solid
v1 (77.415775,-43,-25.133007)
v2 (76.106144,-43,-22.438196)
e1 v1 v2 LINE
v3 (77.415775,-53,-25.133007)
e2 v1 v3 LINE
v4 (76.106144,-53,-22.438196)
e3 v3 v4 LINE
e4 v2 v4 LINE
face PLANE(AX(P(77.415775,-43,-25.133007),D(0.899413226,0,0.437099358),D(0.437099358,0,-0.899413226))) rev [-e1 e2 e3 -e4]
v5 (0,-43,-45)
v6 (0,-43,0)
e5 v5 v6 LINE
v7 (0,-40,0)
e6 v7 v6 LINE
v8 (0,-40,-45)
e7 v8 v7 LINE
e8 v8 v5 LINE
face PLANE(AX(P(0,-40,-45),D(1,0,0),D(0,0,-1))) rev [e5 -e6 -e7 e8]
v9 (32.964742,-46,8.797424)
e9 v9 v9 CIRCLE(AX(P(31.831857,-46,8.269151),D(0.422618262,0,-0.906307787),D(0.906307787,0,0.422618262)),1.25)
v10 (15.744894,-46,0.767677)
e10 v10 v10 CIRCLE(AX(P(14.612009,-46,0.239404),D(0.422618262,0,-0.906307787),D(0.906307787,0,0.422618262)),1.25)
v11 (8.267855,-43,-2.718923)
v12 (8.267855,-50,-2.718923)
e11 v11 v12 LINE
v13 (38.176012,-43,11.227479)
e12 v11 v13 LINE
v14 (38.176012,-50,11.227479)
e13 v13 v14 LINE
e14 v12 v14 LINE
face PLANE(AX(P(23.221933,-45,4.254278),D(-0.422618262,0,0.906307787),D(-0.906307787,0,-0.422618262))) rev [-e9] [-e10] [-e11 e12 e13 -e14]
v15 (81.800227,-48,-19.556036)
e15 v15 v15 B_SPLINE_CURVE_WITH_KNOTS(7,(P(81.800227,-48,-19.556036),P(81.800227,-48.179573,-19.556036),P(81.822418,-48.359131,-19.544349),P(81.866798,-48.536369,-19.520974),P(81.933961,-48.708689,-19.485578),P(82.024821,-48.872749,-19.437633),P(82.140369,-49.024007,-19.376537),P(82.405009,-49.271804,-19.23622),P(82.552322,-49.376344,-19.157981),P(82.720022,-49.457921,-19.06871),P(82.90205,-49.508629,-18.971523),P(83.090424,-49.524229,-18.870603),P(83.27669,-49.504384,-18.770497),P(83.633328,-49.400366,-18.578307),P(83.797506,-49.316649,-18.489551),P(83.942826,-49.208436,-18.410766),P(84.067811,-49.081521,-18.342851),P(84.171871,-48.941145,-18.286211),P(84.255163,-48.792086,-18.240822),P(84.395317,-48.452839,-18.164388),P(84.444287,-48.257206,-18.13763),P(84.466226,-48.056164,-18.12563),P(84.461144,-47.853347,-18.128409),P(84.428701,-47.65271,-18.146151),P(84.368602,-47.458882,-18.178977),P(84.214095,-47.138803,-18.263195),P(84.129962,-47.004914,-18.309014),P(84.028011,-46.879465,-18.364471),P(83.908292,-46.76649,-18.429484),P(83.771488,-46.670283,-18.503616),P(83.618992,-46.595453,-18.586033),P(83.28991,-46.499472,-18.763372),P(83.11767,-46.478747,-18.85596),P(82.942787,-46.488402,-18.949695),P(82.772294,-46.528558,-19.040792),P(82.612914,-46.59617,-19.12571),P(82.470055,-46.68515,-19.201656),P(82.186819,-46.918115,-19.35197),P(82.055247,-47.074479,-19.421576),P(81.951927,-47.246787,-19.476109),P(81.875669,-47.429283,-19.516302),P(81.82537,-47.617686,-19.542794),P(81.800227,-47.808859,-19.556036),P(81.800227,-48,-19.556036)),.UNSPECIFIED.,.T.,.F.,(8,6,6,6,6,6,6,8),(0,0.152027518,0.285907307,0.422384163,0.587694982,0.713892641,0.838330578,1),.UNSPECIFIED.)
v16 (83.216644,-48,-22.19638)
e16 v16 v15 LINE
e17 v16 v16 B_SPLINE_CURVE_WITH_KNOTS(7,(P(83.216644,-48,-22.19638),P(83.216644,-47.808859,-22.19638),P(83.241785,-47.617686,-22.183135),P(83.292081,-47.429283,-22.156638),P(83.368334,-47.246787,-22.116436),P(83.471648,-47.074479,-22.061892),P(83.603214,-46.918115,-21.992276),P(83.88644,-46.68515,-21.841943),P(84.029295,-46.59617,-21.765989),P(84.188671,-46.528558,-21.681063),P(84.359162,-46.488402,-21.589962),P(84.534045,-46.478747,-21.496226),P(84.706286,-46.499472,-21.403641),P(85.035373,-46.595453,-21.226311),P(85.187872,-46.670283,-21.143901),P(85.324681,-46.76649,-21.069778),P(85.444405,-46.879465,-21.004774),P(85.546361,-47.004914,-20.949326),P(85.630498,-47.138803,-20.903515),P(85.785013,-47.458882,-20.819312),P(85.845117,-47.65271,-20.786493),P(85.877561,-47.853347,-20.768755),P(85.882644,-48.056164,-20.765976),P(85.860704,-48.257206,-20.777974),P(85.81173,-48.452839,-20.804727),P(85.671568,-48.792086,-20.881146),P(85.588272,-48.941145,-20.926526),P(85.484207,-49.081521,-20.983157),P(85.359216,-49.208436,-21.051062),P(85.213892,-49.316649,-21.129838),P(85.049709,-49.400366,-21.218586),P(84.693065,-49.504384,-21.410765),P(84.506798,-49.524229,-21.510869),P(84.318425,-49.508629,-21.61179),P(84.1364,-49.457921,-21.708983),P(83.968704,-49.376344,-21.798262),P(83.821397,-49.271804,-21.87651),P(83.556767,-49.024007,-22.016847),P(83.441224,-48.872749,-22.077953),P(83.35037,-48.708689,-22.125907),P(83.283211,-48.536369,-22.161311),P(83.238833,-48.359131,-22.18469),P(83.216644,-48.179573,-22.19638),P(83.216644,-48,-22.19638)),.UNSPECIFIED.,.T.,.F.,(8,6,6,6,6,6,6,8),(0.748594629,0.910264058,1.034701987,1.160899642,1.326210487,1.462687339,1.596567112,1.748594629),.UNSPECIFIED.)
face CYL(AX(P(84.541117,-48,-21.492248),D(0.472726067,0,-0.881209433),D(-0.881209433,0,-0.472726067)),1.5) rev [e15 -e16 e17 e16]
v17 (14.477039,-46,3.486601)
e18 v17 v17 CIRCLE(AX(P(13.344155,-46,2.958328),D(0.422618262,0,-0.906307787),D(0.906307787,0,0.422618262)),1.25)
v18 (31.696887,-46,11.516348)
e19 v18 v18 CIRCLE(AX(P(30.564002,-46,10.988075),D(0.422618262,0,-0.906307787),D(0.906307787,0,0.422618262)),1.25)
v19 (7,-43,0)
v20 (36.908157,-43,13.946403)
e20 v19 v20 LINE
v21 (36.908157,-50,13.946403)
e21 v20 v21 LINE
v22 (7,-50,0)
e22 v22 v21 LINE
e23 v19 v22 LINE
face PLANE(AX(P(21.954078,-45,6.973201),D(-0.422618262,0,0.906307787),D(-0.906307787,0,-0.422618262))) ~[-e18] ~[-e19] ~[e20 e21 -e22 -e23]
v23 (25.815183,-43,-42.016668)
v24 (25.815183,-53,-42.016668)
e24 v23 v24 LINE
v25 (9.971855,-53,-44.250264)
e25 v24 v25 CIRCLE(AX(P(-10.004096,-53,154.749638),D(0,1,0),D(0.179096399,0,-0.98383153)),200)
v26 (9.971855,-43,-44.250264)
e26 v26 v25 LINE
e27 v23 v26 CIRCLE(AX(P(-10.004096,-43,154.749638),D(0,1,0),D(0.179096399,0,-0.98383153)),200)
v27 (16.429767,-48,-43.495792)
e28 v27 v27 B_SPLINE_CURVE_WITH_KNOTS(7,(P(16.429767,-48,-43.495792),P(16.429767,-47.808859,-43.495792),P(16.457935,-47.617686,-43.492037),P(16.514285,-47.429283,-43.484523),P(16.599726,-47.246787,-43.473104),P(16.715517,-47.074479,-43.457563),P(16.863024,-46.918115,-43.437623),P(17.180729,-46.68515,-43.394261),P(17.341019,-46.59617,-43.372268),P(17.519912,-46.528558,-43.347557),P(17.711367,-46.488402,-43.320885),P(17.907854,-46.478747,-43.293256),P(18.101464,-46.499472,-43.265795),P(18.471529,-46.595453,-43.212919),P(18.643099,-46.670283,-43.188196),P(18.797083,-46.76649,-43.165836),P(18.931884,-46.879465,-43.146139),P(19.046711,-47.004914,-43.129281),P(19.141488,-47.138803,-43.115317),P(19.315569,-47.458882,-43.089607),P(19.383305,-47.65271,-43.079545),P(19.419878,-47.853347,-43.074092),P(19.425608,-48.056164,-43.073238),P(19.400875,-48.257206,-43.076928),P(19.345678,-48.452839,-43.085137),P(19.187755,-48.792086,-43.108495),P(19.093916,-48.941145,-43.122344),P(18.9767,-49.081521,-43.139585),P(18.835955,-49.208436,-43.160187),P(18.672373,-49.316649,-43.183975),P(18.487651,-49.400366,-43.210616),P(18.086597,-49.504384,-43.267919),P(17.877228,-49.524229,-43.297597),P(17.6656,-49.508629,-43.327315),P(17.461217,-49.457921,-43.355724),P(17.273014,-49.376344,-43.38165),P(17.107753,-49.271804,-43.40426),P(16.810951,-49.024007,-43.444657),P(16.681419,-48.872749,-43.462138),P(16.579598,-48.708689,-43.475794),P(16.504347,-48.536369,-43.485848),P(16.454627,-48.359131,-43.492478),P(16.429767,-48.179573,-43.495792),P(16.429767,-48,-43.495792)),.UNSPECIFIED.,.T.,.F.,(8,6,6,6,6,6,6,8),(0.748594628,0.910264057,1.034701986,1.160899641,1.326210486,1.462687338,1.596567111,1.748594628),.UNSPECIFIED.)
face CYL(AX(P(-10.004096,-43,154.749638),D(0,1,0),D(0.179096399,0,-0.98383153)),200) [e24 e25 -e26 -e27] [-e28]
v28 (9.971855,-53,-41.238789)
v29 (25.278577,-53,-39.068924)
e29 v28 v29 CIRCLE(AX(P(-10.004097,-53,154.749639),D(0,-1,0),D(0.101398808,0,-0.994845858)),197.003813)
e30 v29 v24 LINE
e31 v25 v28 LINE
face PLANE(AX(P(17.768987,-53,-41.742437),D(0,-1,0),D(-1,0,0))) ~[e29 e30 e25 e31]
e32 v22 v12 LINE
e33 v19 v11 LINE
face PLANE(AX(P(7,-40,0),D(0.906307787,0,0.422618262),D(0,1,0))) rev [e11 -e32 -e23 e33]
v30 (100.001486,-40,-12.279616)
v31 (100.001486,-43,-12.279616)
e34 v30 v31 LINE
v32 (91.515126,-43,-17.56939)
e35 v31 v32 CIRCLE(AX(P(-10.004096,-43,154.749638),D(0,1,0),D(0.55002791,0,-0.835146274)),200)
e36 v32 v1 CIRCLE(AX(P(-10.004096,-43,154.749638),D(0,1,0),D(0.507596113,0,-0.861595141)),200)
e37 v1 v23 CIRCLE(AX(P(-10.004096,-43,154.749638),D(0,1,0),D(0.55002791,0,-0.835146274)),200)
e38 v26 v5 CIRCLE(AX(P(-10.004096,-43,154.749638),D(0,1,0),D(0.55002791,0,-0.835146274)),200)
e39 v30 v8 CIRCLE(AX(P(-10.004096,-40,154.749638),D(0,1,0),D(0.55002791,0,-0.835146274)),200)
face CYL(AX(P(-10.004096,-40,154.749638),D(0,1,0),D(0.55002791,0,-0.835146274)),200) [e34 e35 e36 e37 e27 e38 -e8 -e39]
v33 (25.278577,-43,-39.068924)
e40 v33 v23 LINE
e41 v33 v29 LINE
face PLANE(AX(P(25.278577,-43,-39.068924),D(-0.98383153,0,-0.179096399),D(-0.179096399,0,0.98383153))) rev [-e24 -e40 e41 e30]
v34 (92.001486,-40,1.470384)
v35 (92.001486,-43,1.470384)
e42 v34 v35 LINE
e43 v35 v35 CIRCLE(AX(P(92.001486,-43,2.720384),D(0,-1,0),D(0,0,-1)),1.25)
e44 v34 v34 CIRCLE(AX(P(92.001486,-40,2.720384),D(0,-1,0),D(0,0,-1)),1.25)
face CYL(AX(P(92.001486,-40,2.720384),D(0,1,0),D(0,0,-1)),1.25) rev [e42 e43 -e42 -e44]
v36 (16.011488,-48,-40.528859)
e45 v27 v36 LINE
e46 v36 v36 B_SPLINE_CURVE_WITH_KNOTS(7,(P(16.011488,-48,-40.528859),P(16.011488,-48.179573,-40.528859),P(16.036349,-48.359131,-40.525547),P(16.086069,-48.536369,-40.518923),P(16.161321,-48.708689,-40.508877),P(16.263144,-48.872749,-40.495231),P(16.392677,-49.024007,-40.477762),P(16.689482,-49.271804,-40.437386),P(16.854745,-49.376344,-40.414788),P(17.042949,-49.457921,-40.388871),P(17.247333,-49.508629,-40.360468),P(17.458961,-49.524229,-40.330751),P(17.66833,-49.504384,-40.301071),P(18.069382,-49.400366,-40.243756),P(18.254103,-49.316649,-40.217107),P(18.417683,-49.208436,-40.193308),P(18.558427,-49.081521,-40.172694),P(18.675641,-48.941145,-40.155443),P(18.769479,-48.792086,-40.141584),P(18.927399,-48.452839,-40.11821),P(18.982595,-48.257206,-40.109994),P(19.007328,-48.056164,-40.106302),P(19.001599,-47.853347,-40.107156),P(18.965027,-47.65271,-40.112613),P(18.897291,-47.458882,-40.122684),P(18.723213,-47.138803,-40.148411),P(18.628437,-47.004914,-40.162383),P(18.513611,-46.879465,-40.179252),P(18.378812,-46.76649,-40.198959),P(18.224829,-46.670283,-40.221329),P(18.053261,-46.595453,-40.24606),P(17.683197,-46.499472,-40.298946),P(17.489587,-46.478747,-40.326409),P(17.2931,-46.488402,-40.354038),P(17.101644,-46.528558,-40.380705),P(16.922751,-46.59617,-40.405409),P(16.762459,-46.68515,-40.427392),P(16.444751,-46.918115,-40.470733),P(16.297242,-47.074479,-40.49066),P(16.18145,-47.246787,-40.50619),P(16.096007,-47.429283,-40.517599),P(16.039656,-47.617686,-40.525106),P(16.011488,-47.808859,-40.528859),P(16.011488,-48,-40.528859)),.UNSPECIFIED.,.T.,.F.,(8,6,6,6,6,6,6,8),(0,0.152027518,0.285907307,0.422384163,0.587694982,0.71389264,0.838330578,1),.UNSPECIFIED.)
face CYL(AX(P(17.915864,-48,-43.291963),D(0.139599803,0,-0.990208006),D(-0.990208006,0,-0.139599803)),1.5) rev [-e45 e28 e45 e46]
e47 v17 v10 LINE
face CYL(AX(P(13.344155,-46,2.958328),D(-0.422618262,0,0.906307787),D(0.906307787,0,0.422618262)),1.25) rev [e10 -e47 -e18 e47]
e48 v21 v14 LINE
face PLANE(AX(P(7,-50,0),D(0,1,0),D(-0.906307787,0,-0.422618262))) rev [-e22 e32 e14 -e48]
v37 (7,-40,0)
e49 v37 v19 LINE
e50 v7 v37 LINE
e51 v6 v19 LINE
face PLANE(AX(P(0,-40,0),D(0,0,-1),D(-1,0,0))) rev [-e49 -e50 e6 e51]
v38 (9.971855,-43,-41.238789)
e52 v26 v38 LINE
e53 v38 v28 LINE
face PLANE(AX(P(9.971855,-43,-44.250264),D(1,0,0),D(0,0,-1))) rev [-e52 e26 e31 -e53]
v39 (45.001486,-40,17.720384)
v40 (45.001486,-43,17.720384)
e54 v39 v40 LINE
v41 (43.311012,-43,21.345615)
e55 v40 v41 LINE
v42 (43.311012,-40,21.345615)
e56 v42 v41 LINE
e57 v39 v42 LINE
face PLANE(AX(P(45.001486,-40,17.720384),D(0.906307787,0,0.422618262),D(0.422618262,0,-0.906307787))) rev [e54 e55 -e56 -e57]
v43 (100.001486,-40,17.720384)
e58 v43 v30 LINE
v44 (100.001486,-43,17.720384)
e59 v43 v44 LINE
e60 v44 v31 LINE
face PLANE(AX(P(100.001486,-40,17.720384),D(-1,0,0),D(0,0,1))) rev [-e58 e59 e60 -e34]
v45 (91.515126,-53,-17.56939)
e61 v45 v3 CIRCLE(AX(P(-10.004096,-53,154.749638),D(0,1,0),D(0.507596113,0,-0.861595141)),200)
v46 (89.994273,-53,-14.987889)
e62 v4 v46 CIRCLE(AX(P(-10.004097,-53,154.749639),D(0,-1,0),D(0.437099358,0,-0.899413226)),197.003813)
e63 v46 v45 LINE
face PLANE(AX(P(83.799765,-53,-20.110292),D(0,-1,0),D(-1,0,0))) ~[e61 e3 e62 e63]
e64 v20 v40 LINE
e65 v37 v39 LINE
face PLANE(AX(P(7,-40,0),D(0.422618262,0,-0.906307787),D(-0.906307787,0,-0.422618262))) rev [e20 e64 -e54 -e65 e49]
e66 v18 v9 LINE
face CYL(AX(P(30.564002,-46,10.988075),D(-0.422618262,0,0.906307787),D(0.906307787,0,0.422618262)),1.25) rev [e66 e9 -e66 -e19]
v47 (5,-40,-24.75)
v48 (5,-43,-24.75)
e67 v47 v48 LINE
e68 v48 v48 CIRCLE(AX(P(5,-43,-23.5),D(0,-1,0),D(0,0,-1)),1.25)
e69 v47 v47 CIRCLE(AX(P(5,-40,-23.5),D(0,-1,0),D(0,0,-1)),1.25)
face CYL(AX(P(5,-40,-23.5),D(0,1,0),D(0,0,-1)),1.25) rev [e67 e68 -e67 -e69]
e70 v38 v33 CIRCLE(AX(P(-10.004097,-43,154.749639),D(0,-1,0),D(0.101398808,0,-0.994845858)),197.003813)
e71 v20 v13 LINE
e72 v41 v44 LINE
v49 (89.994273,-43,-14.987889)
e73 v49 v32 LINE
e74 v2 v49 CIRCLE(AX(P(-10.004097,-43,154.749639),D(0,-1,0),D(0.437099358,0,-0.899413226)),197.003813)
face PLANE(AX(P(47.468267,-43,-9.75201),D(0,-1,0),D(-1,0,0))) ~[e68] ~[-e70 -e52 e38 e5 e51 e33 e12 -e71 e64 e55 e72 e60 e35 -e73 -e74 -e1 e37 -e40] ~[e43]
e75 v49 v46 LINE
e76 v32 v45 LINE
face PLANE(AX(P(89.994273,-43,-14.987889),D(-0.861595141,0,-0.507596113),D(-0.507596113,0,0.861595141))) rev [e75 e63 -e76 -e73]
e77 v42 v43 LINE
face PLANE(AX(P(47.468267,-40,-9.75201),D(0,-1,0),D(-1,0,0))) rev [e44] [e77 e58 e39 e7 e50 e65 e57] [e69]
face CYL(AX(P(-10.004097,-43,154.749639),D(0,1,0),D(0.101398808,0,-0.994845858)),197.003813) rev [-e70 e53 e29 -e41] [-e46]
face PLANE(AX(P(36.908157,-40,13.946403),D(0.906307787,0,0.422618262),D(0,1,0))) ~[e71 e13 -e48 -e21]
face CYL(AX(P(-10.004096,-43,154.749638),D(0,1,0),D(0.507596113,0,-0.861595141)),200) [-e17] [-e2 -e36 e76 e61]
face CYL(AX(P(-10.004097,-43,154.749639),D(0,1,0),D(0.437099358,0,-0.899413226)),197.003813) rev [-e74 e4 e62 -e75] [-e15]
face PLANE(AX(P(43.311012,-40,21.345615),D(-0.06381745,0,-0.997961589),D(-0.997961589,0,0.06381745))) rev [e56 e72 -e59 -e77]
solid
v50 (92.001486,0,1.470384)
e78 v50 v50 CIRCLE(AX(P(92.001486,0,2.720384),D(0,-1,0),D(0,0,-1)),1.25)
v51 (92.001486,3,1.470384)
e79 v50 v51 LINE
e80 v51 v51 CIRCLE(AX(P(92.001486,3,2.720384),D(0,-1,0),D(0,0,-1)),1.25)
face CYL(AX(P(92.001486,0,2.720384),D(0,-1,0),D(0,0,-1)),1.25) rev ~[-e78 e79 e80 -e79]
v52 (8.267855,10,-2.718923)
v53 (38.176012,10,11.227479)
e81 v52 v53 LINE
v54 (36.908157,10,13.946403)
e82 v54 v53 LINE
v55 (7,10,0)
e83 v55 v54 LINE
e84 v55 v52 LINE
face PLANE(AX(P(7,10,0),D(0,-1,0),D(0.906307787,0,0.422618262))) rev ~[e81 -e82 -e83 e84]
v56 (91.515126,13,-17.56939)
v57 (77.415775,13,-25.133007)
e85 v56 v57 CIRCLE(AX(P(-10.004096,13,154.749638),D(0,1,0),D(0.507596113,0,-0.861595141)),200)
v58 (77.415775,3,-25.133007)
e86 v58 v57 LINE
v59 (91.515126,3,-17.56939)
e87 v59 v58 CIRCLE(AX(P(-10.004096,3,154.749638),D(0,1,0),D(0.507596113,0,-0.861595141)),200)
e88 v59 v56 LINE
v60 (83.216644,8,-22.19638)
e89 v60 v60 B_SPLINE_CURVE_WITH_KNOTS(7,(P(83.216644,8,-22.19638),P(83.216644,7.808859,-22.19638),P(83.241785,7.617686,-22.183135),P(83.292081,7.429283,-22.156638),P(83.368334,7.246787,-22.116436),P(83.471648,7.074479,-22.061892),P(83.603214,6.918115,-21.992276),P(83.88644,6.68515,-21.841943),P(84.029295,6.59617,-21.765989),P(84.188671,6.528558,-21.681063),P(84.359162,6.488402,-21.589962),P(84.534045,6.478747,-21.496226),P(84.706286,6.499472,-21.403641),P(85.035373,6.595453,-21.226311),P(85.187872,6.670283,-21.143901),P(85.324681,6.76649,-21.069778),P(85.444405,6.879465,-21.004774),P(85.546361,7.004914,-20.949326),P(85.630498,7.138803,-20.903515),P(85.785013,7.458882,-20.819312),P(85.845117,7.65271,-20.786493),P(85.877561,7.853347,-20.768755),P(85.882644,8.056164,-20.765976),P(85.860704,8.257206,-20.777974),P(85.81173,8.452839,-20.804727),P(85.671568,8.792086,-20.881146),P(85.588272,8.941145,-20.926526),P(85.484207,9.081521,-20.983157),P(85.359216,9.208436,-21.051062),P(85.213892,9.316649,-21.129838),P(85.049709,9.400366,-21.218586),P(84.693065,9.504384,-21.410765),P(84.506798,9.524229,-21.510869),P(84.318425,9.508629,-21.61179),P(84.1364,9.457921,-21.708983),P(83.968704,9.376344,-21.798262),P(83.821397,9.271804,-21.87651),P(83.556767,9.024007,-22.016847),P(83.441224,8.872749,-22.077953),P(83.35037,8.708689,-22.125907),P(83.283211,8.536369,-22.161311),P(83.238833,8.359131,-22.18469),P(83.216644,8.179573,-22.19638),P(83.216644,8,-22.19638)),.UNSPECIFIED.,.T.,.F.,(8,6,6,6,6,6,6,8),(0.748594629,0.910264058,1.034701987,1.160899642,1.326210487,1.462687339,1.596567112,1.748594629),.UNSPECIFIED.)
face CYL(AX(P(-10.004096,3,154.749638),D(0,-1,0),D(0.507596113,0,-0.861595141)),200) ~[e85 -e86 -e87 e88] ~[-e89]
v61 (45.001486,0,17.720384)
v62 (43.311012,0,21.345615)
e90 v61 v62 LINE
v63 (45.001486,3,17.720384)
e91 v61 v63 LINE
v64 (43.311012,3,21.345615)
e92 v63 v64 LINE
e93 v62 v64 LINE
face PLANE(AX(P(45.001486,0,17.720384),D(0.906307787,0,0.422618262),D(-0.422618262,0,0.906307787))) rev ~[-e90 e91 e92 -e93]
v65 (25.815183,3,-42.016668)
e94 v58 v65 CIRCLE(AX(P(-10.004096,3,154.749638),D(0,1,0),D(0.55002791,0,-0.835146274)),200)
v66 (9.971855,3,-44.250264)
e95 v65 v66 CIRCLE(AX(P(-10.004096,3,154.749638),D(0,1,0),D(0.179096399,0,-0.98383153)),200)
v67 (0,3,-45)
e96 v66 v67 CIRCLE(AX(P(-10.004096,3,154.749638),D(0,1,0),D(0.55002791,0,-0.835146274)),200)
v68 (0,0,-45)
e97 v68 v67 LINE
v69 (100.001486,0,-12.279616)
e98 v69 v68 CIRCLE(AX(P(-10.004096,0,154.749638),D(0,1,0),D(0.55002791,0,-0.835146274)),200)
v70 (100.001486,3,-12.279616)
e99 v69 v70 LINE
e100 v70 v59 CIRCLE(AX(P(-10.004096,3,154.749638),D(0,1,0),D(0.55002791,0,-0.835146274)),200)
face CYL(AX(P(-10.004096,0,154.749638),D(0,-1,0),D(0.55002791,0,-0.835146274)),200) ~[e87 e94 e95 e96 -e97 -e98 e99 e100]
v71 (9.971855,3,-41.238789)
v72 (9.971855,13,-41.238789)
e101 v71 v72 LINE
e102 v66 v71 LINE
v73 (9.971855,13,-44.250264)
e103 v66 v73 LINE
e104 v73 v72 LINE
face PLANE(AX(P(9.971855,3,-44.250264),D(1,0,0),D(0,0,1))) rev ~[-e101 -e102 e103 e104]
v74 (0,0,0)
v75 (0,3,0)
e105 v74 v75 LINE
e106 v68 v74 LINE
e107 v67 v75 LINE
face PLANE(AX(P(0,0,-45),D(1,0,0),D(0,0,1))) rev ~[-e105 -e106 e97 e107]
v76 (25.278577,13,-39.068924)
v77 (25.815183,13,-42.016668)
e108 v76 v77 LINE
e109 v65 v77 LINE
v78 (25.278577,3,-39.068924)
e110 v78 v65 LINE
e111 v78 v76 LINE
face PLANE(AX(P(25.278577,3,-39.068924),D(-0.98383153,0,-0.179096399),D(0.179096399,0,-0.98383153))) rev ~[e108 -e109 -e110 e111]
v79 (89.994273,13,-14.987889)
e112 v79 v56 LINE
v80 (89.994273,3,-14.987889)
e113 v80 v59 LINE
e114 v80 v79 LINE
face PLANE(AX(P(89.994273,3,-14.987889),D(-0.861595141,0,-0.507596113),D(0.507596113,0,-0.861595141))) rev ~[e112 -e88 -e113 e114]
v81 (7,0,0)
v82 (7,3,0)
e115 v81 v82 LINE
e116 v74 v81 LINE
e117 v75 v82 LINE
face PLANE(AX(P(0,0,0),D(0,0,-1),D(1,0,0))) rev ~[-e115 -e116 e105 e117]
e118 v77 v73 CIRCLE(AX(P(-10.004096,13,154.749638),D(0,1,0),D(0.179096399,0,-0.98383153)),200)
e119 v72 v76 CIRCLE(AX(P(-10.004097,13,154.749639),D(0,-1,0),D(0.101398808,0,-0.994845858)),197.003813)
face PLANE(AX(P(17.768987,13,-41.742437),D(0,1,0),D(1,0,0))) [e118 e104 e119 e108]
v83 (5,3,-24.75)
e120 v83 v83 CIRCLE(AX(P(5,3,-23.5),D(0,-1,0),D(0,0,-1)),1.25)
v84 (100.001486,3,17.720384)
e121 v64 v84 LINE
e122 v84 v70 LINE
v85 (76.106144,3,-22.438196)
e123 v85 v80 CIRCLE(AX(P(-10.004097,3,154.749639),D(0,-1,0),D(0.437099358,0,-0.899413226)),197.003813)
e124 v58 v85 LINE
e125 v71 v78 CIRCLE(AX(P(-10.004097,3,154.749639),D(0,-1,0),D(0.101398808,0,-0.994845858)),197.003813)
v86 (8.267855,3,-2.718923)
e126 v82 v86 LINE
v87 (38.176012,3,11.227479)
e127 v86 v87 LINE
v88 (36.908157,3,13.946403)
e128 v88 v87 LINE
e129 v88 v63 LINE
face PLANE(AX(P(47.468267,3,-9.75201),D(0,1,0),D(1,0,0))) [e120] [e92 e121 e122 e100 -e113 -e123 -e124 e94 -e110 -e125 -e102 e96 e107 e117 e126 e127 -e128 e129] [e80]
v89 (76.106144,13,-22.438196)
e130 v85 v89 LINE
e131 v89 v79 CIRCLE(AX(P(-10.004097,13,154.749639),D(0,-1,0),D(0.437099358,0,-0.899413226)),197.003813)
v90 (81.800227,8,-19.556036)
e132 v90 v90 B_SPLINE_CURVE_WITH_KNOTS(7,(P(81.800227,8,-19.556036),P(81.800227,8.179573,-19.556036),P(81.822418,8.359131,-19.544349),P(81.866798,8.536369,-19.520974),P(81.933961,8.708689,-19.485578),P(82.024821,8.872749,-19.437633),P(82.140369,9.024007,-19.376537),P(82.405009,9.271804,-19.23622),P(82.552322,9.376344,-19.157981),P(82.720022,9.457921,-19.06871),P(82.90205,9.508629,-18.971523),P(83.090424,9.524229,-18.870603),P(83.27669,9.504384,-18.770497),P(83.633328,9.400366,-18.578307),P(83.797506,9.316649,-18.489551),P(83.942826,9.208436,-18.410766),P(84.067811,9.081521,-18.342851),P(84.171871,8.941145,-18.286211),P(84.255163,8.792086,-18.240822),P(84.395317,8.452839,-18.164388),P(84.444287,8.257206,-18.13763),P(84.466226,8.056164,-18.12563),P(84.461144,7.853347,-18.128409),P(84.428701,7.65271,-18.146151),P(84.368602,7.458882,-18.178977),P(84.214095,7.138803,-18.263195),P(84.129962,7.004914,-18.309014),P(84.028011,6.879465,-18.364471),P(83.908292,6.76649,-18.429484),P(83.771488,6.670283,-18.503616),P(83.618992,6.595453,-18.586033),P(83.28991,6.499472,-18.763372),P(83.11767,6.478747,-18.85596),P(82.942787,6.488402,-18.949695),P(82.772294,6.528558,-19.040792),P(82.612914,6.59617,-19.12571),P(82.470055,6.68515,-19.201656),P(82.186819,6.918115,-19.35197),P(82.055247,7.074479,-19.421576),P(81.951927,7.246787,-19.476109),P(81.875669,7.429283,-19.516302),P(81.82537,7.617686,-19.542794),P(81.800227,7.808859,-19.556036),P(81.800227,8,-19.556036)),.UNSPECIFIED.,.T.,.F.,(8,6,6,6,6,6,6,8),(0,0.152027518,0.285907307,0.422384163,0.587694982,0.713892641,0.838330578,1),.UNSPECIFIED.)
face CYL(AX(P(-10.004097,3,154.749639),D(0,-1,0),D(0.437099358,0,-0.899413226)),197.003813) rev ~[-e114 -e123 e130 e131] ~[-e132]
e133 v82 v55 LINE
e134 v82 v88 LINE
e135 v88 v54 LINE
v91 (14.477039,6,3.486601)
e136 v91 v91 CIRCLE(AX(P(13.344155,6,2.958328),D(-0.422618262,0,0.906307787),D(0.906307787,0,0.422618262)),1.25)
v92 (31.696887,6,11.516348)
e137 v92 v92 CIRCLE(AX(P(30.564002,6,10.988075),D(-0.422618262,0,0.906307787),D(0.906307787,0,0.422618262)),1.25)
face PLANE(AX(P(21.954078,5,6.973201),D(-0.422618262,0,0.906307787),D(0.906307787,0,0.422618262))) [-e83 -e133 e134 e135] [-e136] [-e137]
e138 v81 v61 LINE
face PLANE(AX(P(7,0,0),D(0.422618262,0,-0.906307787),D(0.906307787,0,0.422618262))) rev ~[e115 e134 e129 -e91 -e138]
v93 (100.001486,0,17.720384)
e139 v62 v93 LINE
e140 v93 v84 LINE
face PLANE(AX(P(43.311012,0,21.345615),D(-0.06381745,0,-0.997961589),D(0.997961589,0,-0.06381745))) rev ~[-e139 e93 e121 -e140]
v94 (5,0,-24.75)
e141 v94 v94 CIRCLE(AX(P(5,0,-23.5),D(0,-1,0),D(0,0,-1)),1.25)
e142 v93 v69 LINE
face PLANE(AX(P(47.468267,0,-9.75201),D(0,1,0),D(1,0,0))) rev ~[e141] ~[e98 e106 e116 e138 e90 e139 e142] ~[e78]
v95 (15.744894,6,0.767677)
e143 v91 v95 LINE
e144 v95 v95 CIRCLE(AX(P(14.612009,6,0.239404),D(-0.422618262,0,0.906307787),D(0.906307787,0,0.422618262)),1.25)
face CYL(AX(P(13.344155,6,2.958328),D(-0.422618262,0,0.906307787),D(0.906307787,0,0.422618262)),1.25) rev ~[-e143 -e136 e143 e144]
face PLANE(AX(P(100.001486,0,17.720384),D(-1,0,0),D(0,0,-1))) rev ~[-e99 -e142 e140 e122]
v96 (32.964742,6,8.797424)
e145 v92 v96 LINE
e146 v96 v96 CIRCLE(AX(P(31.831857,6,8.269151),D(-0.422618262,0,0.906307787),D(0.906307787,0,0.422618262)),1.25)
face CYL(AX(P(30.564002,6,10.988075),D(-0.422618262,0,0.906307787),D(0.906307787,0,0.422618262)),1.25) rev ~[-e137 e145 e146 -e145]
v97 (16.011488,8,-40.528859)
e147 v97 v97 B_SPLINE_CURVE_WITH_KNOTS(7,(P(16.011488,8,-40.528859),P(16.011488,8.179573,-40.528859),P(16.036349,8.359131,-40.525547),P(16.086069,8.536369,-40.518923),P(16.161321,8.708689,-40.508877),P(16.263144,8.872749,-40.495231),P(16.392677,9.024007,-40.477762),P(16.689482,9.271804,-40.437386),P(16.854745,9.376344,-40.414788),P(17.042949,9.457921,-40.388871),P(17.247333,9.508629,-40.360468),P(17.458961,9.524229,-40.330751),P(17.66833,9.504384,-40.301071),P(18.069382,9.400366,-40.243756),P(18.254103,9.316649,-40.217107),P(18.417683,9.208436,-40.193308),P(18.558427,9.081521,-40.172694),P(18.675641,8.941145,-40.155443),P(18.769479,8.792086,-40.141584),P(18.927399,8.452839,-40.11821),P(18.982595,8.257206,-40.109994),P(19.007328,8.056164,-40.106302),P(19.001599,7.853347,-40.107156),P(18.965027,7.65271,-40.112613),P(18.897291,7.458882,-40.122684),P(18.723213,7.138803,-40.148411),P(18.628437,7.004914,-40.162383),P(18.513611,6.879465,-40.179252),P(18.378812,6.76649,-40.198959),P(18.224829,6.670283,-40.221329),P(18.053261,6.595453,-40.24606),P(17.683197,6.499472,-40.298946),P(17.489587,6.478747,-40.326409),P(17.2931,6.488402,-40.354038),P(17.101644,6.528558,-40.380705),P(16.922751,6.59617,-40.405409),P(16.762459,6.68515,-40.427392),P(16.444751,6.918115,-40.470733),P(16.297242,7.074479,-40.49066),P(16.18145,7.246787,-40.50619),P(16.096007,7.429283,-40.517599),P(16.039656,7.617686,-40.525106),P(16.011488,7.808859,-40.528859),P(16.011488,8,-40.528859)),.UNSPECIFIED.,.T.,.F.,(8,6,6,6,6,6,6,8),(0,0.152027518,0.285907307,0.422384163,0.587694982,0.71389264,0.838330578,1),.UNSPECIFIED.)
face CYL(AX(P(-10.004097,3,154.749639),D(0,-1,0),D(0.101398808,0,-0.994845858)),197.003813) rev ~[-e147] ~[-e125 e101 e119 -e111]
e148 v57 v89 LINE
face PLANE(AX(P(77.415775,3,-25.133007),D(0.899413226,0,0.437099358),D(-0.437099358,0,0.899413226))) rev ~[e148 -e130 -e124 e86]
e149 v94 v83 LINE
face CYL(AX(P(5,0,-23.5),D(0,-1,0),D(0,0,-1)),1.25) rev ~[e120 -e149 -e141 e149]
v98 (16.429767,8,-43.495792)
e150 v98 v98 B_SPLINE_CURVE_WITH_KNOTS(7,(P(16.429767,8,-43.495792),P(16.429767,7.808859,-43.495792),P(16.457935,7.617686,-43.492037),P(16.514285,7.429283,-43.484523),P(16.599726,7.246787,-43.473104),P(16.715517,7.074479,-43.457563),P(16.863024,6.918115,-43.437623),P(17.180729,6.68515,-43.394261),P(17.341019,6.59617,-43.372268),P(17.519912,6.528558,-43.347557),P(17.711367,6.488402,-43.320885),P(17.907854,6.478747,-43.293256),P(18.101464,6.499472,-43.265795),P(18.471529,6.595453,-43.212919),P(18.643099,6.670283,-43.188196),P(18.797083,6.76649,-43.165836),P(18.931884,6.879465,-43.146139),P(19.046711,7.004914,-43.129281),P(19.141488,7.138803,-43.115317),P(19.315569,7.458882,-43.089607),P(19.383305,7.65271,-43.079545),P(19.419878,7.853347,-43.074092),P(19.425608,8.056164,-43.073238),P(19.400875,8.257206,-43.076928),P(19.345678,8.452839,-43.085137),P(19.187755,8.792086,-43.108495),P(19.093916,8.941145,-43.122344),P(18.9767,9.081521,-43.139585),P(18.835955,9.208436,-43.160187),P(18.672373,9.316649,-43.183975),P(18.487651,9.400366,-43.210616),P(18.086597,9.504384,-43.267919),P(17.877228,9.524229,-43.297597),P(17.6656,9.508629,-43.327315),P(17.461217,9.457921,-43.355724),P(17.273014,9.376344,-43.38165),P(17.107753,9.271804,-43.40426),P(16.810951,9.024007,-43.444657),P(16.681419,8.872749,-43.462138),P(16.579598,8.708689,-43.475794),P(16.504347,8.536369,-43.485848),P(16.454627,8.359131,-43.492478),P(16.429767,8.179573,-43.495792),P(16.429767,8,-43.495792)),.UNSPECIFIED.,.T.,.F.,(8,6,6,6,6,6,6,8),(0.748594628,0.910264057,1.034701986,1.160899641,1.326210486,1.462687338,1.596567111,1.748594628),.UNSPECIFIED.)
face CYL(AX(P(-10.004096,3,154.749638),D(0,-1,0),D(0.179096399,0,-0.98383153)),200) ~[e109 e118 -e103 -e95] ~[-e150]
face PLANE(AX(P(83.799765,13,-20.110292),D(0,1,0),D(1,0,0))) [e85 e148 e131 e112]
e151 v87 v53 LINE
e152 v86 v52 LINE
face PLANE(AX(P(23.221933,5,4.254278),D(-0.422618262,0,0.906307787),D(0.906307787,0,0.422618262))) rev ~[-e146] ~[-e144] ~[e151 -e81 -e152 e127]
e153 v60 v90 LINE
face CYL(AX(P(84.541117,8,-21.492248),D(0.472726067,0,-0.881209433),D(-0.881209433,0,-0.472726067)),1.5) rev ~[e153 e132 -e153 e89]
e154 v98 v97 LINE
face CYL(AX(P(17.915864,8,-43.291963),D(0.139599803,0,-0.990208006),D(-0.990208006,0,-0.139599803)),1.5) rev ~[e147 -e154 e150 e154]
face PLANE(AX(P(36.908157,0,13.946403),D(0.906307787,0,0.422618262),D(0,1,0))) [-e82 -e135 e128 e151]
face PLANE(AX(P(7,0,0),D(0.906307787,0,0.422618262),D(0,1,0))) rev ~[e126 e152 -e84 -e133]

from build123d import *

# Parameters (mm, degrees)
BOSS_EXTRUDE1_DEPTH     = 3
SKETCH2_W               = 33
SKETCH2_H               = 10
SKETCH2_R               = 1.25
BOSS_EXTRUDE2_DEPTH     = 3
SKETCH3_R               = 1.25
CUT_EXTRUDE1_DEPTH      = 111.114926801
BOSS_EXTRUDE3_DEPTH     = 10
CUT_EXTRUDE2_REACH      = 107.286
CUT_EXTRUDE2_END_RADIUS = 197.003812576
SKETCH8_R               = 1.5
CUT_EXTRUDE3_REACH      = 97.662
CUT_EXTRUDE3_END_RADIUS = 197.003812576
SKETCH9_R               = 1.5


with BuildPart() as part:
    # Sketch1 → Boss-Extrude1 (new body)
    with BuildSketch(Plane(origin=(0, 0, 0), x_dir=(1, 0, 0), z_dir=(0, 1, 0))):
        with BuildLine():
            Line((0, 45), (0, 0))
            Line((0, 0), (7, 0))
            Line((7, 0), (45.00148551, -17.720383715))
            Line((45.00148551, -17.720383715), (43.311012463, -21.345614863))
            Line((43.311012463, -21.345614863), (100.00148551, -17.720383715))
            Line((100.00148551, -17.720383715), (100.00148551, 12.279616285))
            ThreePointArc((100.00148551, 12.279616285), (52.191052923, 35.333931061), (0, 45))
        make_face()
    extrude(amount=BOSS_EXTRUDE1_DEPTH)

    # Sketch2 → Boss-Extrude2 (add)
    with BuildSketch(Plane(origin=(1.250243366, 0, -2.681155551), x_dir=(0.9063077870366495, 0, 0.42261826174070033), z_dir=(-0.42261826174070033, 0, 0.9063077870366495))):
        with Locations((22.844154509, 5)):
            Rectangle(SKETCH2_W, SKETCH2_H)
        with Locations((13.344154509, 6)):
            Circle(SKETCH2_R, mode=Mode.SUBTRACT)
        with Locations((32.344154509, 6)):
            Circle(SKETCH2_R, mode=Mode.SUBTRACT)
    extrude(amount=-BOSS_EXTRUDE2_DEPTH)

    # Sketch3 → Cut-Extrude1 (cut, through all)
    with BuildSketch(Plane.XZ):
        with Locations(Location((5, -23.5, 0), (0, 0, 270))):
            Circle(SKETCH3_R)
        with Locations(Location((92.00148551, 2.720383715, 0), (0, 0, 270))):
            Circle(SKETCH3_R)
    extrude(amount=-CUT_EXTRUDE1_DEPTH, mode=Mode.SUBTRACT)

    # Sketch6 → Boss-Extrude3 (add)
    with BuildSketch(Plane(origin=(0, 3, 0), x_dir=(1, 0, 0), z_dir=(0, 1, 0))):
        with BuildLine():
            ThreePointArc((25.815183319, 42.016667614), (17.915864182, 43.291962745), (9.971855225, 44.250264466))
            Line((9.971855225, 44.250264466), (9.971855225, 41.238788581))
            ThreePointArc((9.971855225, 41.238788581), (17.646509134, 40.304062324), (25.278576941, 39.068923955))
            Line((25.278576941, 39.068923955), (25.815183319, 42.016667614))
        make_face()
        with BuildLine():
            ThreePointArc((91.515126037, 17.56938971), (84.541117021, 21.492248202), (77.415775106, 25.13300679))
            Line((77.415775106, 25.13300679), (76.106143507, 22.438196193))
            ThreePointArc((76.106143507, 22.438196193), (83.124741123, 18.85197958), (89.994272948, 14.987889185))
            Line((89.994272948, 14.987889185), (91.515126037, 17.56938971))
        make_face()
    extrude(amount=BOSS_EXTRUDE3_DEPTH)

    # Cut-Extrude2: up to this cylinder (the profile starts outside it)
    cut_extrude2_end = Plane(origin=(-10.004096478, 8, 154.749638432), z_dir=(0, -1, 0)) * Cylinder(CUT_EXTRUDE2_END_RADIUS, 609.579625152, mode=Mode.PRIVATE)
    # Sketch8 → Cut-Extrude2 (cut, up to the surface)
    with BuildSketch(Plane(origin=(17.915864182, 13, -43.291962745), x_dir=(-0.9902080058846243, 0, -0.1395998033021389), z_dir=(0.1395998033021389, 0, -0.9902080058846243)), mode=Mode.PRIVATE) as cut_extrude2_sk1:
        with Locations((0, -5)):
            Circle(SKETCH8_R)
    cut_extrude2_tool1 = extrude(cut_extrude2_sk1.sketch, amount=-CUT_EXTRUDE2_REACH, mode=Mode.PRIVATE) - cut_extrude2_end
    add(cut_extrude2_tool1.solids().sort_by_distance((17.915864, 8, -43.291963))[0], mode=Mode.SUBTRACT)

    # Cut-Extrude3: up to this cylinder (the profile starts outside it)
    cut_extrude3_end = Plane(origin=(-10.004096478, 8, 154.749638432), z_dir=(0, -1, 0)) * Cylinder(CUT_EXTRUDE3_END_RADIUS, 590.331625152, mode=Mode.PRIVATE)
    # Sketch9 → Cut-Extrude3 (cut, up to the surface)
    with BuildSketch(Plane(origin=(84.541117021, 13, -21.492248202), x_dir=(-0.8812094331704029, 0, -0.47272606749733775), z_dir=(0.47272606749733775, 0, -0.8812094331704029)), mode=Mode.PRIVATE) as cut_extrude3_sk1:
        with Locations((0, -5)):
            Circle(SKETCH9_R)
    cut_extrude3_tool1 = extrude(cut_extrude3_sk1.sketch, amount=-CUT_EXTRUDE3_REACH, mode=Mode.PRIVATE) - cut_extrude3_end
    add(cut_extrude3_tool1.solids().sort_by_distance((84.541117, 8, -21.492248))[0], mode=Mode.SUBTRACT)


with BuildPart() as body_2:
    # Mirror1: mirrored copy
    add(part.part.mirror(Plane(origin=(0, -20, 0), x_dir=(0, 0, 1), z_dir=(0, -1, 0))))


solid = Compound([part.part, body_2.part])
